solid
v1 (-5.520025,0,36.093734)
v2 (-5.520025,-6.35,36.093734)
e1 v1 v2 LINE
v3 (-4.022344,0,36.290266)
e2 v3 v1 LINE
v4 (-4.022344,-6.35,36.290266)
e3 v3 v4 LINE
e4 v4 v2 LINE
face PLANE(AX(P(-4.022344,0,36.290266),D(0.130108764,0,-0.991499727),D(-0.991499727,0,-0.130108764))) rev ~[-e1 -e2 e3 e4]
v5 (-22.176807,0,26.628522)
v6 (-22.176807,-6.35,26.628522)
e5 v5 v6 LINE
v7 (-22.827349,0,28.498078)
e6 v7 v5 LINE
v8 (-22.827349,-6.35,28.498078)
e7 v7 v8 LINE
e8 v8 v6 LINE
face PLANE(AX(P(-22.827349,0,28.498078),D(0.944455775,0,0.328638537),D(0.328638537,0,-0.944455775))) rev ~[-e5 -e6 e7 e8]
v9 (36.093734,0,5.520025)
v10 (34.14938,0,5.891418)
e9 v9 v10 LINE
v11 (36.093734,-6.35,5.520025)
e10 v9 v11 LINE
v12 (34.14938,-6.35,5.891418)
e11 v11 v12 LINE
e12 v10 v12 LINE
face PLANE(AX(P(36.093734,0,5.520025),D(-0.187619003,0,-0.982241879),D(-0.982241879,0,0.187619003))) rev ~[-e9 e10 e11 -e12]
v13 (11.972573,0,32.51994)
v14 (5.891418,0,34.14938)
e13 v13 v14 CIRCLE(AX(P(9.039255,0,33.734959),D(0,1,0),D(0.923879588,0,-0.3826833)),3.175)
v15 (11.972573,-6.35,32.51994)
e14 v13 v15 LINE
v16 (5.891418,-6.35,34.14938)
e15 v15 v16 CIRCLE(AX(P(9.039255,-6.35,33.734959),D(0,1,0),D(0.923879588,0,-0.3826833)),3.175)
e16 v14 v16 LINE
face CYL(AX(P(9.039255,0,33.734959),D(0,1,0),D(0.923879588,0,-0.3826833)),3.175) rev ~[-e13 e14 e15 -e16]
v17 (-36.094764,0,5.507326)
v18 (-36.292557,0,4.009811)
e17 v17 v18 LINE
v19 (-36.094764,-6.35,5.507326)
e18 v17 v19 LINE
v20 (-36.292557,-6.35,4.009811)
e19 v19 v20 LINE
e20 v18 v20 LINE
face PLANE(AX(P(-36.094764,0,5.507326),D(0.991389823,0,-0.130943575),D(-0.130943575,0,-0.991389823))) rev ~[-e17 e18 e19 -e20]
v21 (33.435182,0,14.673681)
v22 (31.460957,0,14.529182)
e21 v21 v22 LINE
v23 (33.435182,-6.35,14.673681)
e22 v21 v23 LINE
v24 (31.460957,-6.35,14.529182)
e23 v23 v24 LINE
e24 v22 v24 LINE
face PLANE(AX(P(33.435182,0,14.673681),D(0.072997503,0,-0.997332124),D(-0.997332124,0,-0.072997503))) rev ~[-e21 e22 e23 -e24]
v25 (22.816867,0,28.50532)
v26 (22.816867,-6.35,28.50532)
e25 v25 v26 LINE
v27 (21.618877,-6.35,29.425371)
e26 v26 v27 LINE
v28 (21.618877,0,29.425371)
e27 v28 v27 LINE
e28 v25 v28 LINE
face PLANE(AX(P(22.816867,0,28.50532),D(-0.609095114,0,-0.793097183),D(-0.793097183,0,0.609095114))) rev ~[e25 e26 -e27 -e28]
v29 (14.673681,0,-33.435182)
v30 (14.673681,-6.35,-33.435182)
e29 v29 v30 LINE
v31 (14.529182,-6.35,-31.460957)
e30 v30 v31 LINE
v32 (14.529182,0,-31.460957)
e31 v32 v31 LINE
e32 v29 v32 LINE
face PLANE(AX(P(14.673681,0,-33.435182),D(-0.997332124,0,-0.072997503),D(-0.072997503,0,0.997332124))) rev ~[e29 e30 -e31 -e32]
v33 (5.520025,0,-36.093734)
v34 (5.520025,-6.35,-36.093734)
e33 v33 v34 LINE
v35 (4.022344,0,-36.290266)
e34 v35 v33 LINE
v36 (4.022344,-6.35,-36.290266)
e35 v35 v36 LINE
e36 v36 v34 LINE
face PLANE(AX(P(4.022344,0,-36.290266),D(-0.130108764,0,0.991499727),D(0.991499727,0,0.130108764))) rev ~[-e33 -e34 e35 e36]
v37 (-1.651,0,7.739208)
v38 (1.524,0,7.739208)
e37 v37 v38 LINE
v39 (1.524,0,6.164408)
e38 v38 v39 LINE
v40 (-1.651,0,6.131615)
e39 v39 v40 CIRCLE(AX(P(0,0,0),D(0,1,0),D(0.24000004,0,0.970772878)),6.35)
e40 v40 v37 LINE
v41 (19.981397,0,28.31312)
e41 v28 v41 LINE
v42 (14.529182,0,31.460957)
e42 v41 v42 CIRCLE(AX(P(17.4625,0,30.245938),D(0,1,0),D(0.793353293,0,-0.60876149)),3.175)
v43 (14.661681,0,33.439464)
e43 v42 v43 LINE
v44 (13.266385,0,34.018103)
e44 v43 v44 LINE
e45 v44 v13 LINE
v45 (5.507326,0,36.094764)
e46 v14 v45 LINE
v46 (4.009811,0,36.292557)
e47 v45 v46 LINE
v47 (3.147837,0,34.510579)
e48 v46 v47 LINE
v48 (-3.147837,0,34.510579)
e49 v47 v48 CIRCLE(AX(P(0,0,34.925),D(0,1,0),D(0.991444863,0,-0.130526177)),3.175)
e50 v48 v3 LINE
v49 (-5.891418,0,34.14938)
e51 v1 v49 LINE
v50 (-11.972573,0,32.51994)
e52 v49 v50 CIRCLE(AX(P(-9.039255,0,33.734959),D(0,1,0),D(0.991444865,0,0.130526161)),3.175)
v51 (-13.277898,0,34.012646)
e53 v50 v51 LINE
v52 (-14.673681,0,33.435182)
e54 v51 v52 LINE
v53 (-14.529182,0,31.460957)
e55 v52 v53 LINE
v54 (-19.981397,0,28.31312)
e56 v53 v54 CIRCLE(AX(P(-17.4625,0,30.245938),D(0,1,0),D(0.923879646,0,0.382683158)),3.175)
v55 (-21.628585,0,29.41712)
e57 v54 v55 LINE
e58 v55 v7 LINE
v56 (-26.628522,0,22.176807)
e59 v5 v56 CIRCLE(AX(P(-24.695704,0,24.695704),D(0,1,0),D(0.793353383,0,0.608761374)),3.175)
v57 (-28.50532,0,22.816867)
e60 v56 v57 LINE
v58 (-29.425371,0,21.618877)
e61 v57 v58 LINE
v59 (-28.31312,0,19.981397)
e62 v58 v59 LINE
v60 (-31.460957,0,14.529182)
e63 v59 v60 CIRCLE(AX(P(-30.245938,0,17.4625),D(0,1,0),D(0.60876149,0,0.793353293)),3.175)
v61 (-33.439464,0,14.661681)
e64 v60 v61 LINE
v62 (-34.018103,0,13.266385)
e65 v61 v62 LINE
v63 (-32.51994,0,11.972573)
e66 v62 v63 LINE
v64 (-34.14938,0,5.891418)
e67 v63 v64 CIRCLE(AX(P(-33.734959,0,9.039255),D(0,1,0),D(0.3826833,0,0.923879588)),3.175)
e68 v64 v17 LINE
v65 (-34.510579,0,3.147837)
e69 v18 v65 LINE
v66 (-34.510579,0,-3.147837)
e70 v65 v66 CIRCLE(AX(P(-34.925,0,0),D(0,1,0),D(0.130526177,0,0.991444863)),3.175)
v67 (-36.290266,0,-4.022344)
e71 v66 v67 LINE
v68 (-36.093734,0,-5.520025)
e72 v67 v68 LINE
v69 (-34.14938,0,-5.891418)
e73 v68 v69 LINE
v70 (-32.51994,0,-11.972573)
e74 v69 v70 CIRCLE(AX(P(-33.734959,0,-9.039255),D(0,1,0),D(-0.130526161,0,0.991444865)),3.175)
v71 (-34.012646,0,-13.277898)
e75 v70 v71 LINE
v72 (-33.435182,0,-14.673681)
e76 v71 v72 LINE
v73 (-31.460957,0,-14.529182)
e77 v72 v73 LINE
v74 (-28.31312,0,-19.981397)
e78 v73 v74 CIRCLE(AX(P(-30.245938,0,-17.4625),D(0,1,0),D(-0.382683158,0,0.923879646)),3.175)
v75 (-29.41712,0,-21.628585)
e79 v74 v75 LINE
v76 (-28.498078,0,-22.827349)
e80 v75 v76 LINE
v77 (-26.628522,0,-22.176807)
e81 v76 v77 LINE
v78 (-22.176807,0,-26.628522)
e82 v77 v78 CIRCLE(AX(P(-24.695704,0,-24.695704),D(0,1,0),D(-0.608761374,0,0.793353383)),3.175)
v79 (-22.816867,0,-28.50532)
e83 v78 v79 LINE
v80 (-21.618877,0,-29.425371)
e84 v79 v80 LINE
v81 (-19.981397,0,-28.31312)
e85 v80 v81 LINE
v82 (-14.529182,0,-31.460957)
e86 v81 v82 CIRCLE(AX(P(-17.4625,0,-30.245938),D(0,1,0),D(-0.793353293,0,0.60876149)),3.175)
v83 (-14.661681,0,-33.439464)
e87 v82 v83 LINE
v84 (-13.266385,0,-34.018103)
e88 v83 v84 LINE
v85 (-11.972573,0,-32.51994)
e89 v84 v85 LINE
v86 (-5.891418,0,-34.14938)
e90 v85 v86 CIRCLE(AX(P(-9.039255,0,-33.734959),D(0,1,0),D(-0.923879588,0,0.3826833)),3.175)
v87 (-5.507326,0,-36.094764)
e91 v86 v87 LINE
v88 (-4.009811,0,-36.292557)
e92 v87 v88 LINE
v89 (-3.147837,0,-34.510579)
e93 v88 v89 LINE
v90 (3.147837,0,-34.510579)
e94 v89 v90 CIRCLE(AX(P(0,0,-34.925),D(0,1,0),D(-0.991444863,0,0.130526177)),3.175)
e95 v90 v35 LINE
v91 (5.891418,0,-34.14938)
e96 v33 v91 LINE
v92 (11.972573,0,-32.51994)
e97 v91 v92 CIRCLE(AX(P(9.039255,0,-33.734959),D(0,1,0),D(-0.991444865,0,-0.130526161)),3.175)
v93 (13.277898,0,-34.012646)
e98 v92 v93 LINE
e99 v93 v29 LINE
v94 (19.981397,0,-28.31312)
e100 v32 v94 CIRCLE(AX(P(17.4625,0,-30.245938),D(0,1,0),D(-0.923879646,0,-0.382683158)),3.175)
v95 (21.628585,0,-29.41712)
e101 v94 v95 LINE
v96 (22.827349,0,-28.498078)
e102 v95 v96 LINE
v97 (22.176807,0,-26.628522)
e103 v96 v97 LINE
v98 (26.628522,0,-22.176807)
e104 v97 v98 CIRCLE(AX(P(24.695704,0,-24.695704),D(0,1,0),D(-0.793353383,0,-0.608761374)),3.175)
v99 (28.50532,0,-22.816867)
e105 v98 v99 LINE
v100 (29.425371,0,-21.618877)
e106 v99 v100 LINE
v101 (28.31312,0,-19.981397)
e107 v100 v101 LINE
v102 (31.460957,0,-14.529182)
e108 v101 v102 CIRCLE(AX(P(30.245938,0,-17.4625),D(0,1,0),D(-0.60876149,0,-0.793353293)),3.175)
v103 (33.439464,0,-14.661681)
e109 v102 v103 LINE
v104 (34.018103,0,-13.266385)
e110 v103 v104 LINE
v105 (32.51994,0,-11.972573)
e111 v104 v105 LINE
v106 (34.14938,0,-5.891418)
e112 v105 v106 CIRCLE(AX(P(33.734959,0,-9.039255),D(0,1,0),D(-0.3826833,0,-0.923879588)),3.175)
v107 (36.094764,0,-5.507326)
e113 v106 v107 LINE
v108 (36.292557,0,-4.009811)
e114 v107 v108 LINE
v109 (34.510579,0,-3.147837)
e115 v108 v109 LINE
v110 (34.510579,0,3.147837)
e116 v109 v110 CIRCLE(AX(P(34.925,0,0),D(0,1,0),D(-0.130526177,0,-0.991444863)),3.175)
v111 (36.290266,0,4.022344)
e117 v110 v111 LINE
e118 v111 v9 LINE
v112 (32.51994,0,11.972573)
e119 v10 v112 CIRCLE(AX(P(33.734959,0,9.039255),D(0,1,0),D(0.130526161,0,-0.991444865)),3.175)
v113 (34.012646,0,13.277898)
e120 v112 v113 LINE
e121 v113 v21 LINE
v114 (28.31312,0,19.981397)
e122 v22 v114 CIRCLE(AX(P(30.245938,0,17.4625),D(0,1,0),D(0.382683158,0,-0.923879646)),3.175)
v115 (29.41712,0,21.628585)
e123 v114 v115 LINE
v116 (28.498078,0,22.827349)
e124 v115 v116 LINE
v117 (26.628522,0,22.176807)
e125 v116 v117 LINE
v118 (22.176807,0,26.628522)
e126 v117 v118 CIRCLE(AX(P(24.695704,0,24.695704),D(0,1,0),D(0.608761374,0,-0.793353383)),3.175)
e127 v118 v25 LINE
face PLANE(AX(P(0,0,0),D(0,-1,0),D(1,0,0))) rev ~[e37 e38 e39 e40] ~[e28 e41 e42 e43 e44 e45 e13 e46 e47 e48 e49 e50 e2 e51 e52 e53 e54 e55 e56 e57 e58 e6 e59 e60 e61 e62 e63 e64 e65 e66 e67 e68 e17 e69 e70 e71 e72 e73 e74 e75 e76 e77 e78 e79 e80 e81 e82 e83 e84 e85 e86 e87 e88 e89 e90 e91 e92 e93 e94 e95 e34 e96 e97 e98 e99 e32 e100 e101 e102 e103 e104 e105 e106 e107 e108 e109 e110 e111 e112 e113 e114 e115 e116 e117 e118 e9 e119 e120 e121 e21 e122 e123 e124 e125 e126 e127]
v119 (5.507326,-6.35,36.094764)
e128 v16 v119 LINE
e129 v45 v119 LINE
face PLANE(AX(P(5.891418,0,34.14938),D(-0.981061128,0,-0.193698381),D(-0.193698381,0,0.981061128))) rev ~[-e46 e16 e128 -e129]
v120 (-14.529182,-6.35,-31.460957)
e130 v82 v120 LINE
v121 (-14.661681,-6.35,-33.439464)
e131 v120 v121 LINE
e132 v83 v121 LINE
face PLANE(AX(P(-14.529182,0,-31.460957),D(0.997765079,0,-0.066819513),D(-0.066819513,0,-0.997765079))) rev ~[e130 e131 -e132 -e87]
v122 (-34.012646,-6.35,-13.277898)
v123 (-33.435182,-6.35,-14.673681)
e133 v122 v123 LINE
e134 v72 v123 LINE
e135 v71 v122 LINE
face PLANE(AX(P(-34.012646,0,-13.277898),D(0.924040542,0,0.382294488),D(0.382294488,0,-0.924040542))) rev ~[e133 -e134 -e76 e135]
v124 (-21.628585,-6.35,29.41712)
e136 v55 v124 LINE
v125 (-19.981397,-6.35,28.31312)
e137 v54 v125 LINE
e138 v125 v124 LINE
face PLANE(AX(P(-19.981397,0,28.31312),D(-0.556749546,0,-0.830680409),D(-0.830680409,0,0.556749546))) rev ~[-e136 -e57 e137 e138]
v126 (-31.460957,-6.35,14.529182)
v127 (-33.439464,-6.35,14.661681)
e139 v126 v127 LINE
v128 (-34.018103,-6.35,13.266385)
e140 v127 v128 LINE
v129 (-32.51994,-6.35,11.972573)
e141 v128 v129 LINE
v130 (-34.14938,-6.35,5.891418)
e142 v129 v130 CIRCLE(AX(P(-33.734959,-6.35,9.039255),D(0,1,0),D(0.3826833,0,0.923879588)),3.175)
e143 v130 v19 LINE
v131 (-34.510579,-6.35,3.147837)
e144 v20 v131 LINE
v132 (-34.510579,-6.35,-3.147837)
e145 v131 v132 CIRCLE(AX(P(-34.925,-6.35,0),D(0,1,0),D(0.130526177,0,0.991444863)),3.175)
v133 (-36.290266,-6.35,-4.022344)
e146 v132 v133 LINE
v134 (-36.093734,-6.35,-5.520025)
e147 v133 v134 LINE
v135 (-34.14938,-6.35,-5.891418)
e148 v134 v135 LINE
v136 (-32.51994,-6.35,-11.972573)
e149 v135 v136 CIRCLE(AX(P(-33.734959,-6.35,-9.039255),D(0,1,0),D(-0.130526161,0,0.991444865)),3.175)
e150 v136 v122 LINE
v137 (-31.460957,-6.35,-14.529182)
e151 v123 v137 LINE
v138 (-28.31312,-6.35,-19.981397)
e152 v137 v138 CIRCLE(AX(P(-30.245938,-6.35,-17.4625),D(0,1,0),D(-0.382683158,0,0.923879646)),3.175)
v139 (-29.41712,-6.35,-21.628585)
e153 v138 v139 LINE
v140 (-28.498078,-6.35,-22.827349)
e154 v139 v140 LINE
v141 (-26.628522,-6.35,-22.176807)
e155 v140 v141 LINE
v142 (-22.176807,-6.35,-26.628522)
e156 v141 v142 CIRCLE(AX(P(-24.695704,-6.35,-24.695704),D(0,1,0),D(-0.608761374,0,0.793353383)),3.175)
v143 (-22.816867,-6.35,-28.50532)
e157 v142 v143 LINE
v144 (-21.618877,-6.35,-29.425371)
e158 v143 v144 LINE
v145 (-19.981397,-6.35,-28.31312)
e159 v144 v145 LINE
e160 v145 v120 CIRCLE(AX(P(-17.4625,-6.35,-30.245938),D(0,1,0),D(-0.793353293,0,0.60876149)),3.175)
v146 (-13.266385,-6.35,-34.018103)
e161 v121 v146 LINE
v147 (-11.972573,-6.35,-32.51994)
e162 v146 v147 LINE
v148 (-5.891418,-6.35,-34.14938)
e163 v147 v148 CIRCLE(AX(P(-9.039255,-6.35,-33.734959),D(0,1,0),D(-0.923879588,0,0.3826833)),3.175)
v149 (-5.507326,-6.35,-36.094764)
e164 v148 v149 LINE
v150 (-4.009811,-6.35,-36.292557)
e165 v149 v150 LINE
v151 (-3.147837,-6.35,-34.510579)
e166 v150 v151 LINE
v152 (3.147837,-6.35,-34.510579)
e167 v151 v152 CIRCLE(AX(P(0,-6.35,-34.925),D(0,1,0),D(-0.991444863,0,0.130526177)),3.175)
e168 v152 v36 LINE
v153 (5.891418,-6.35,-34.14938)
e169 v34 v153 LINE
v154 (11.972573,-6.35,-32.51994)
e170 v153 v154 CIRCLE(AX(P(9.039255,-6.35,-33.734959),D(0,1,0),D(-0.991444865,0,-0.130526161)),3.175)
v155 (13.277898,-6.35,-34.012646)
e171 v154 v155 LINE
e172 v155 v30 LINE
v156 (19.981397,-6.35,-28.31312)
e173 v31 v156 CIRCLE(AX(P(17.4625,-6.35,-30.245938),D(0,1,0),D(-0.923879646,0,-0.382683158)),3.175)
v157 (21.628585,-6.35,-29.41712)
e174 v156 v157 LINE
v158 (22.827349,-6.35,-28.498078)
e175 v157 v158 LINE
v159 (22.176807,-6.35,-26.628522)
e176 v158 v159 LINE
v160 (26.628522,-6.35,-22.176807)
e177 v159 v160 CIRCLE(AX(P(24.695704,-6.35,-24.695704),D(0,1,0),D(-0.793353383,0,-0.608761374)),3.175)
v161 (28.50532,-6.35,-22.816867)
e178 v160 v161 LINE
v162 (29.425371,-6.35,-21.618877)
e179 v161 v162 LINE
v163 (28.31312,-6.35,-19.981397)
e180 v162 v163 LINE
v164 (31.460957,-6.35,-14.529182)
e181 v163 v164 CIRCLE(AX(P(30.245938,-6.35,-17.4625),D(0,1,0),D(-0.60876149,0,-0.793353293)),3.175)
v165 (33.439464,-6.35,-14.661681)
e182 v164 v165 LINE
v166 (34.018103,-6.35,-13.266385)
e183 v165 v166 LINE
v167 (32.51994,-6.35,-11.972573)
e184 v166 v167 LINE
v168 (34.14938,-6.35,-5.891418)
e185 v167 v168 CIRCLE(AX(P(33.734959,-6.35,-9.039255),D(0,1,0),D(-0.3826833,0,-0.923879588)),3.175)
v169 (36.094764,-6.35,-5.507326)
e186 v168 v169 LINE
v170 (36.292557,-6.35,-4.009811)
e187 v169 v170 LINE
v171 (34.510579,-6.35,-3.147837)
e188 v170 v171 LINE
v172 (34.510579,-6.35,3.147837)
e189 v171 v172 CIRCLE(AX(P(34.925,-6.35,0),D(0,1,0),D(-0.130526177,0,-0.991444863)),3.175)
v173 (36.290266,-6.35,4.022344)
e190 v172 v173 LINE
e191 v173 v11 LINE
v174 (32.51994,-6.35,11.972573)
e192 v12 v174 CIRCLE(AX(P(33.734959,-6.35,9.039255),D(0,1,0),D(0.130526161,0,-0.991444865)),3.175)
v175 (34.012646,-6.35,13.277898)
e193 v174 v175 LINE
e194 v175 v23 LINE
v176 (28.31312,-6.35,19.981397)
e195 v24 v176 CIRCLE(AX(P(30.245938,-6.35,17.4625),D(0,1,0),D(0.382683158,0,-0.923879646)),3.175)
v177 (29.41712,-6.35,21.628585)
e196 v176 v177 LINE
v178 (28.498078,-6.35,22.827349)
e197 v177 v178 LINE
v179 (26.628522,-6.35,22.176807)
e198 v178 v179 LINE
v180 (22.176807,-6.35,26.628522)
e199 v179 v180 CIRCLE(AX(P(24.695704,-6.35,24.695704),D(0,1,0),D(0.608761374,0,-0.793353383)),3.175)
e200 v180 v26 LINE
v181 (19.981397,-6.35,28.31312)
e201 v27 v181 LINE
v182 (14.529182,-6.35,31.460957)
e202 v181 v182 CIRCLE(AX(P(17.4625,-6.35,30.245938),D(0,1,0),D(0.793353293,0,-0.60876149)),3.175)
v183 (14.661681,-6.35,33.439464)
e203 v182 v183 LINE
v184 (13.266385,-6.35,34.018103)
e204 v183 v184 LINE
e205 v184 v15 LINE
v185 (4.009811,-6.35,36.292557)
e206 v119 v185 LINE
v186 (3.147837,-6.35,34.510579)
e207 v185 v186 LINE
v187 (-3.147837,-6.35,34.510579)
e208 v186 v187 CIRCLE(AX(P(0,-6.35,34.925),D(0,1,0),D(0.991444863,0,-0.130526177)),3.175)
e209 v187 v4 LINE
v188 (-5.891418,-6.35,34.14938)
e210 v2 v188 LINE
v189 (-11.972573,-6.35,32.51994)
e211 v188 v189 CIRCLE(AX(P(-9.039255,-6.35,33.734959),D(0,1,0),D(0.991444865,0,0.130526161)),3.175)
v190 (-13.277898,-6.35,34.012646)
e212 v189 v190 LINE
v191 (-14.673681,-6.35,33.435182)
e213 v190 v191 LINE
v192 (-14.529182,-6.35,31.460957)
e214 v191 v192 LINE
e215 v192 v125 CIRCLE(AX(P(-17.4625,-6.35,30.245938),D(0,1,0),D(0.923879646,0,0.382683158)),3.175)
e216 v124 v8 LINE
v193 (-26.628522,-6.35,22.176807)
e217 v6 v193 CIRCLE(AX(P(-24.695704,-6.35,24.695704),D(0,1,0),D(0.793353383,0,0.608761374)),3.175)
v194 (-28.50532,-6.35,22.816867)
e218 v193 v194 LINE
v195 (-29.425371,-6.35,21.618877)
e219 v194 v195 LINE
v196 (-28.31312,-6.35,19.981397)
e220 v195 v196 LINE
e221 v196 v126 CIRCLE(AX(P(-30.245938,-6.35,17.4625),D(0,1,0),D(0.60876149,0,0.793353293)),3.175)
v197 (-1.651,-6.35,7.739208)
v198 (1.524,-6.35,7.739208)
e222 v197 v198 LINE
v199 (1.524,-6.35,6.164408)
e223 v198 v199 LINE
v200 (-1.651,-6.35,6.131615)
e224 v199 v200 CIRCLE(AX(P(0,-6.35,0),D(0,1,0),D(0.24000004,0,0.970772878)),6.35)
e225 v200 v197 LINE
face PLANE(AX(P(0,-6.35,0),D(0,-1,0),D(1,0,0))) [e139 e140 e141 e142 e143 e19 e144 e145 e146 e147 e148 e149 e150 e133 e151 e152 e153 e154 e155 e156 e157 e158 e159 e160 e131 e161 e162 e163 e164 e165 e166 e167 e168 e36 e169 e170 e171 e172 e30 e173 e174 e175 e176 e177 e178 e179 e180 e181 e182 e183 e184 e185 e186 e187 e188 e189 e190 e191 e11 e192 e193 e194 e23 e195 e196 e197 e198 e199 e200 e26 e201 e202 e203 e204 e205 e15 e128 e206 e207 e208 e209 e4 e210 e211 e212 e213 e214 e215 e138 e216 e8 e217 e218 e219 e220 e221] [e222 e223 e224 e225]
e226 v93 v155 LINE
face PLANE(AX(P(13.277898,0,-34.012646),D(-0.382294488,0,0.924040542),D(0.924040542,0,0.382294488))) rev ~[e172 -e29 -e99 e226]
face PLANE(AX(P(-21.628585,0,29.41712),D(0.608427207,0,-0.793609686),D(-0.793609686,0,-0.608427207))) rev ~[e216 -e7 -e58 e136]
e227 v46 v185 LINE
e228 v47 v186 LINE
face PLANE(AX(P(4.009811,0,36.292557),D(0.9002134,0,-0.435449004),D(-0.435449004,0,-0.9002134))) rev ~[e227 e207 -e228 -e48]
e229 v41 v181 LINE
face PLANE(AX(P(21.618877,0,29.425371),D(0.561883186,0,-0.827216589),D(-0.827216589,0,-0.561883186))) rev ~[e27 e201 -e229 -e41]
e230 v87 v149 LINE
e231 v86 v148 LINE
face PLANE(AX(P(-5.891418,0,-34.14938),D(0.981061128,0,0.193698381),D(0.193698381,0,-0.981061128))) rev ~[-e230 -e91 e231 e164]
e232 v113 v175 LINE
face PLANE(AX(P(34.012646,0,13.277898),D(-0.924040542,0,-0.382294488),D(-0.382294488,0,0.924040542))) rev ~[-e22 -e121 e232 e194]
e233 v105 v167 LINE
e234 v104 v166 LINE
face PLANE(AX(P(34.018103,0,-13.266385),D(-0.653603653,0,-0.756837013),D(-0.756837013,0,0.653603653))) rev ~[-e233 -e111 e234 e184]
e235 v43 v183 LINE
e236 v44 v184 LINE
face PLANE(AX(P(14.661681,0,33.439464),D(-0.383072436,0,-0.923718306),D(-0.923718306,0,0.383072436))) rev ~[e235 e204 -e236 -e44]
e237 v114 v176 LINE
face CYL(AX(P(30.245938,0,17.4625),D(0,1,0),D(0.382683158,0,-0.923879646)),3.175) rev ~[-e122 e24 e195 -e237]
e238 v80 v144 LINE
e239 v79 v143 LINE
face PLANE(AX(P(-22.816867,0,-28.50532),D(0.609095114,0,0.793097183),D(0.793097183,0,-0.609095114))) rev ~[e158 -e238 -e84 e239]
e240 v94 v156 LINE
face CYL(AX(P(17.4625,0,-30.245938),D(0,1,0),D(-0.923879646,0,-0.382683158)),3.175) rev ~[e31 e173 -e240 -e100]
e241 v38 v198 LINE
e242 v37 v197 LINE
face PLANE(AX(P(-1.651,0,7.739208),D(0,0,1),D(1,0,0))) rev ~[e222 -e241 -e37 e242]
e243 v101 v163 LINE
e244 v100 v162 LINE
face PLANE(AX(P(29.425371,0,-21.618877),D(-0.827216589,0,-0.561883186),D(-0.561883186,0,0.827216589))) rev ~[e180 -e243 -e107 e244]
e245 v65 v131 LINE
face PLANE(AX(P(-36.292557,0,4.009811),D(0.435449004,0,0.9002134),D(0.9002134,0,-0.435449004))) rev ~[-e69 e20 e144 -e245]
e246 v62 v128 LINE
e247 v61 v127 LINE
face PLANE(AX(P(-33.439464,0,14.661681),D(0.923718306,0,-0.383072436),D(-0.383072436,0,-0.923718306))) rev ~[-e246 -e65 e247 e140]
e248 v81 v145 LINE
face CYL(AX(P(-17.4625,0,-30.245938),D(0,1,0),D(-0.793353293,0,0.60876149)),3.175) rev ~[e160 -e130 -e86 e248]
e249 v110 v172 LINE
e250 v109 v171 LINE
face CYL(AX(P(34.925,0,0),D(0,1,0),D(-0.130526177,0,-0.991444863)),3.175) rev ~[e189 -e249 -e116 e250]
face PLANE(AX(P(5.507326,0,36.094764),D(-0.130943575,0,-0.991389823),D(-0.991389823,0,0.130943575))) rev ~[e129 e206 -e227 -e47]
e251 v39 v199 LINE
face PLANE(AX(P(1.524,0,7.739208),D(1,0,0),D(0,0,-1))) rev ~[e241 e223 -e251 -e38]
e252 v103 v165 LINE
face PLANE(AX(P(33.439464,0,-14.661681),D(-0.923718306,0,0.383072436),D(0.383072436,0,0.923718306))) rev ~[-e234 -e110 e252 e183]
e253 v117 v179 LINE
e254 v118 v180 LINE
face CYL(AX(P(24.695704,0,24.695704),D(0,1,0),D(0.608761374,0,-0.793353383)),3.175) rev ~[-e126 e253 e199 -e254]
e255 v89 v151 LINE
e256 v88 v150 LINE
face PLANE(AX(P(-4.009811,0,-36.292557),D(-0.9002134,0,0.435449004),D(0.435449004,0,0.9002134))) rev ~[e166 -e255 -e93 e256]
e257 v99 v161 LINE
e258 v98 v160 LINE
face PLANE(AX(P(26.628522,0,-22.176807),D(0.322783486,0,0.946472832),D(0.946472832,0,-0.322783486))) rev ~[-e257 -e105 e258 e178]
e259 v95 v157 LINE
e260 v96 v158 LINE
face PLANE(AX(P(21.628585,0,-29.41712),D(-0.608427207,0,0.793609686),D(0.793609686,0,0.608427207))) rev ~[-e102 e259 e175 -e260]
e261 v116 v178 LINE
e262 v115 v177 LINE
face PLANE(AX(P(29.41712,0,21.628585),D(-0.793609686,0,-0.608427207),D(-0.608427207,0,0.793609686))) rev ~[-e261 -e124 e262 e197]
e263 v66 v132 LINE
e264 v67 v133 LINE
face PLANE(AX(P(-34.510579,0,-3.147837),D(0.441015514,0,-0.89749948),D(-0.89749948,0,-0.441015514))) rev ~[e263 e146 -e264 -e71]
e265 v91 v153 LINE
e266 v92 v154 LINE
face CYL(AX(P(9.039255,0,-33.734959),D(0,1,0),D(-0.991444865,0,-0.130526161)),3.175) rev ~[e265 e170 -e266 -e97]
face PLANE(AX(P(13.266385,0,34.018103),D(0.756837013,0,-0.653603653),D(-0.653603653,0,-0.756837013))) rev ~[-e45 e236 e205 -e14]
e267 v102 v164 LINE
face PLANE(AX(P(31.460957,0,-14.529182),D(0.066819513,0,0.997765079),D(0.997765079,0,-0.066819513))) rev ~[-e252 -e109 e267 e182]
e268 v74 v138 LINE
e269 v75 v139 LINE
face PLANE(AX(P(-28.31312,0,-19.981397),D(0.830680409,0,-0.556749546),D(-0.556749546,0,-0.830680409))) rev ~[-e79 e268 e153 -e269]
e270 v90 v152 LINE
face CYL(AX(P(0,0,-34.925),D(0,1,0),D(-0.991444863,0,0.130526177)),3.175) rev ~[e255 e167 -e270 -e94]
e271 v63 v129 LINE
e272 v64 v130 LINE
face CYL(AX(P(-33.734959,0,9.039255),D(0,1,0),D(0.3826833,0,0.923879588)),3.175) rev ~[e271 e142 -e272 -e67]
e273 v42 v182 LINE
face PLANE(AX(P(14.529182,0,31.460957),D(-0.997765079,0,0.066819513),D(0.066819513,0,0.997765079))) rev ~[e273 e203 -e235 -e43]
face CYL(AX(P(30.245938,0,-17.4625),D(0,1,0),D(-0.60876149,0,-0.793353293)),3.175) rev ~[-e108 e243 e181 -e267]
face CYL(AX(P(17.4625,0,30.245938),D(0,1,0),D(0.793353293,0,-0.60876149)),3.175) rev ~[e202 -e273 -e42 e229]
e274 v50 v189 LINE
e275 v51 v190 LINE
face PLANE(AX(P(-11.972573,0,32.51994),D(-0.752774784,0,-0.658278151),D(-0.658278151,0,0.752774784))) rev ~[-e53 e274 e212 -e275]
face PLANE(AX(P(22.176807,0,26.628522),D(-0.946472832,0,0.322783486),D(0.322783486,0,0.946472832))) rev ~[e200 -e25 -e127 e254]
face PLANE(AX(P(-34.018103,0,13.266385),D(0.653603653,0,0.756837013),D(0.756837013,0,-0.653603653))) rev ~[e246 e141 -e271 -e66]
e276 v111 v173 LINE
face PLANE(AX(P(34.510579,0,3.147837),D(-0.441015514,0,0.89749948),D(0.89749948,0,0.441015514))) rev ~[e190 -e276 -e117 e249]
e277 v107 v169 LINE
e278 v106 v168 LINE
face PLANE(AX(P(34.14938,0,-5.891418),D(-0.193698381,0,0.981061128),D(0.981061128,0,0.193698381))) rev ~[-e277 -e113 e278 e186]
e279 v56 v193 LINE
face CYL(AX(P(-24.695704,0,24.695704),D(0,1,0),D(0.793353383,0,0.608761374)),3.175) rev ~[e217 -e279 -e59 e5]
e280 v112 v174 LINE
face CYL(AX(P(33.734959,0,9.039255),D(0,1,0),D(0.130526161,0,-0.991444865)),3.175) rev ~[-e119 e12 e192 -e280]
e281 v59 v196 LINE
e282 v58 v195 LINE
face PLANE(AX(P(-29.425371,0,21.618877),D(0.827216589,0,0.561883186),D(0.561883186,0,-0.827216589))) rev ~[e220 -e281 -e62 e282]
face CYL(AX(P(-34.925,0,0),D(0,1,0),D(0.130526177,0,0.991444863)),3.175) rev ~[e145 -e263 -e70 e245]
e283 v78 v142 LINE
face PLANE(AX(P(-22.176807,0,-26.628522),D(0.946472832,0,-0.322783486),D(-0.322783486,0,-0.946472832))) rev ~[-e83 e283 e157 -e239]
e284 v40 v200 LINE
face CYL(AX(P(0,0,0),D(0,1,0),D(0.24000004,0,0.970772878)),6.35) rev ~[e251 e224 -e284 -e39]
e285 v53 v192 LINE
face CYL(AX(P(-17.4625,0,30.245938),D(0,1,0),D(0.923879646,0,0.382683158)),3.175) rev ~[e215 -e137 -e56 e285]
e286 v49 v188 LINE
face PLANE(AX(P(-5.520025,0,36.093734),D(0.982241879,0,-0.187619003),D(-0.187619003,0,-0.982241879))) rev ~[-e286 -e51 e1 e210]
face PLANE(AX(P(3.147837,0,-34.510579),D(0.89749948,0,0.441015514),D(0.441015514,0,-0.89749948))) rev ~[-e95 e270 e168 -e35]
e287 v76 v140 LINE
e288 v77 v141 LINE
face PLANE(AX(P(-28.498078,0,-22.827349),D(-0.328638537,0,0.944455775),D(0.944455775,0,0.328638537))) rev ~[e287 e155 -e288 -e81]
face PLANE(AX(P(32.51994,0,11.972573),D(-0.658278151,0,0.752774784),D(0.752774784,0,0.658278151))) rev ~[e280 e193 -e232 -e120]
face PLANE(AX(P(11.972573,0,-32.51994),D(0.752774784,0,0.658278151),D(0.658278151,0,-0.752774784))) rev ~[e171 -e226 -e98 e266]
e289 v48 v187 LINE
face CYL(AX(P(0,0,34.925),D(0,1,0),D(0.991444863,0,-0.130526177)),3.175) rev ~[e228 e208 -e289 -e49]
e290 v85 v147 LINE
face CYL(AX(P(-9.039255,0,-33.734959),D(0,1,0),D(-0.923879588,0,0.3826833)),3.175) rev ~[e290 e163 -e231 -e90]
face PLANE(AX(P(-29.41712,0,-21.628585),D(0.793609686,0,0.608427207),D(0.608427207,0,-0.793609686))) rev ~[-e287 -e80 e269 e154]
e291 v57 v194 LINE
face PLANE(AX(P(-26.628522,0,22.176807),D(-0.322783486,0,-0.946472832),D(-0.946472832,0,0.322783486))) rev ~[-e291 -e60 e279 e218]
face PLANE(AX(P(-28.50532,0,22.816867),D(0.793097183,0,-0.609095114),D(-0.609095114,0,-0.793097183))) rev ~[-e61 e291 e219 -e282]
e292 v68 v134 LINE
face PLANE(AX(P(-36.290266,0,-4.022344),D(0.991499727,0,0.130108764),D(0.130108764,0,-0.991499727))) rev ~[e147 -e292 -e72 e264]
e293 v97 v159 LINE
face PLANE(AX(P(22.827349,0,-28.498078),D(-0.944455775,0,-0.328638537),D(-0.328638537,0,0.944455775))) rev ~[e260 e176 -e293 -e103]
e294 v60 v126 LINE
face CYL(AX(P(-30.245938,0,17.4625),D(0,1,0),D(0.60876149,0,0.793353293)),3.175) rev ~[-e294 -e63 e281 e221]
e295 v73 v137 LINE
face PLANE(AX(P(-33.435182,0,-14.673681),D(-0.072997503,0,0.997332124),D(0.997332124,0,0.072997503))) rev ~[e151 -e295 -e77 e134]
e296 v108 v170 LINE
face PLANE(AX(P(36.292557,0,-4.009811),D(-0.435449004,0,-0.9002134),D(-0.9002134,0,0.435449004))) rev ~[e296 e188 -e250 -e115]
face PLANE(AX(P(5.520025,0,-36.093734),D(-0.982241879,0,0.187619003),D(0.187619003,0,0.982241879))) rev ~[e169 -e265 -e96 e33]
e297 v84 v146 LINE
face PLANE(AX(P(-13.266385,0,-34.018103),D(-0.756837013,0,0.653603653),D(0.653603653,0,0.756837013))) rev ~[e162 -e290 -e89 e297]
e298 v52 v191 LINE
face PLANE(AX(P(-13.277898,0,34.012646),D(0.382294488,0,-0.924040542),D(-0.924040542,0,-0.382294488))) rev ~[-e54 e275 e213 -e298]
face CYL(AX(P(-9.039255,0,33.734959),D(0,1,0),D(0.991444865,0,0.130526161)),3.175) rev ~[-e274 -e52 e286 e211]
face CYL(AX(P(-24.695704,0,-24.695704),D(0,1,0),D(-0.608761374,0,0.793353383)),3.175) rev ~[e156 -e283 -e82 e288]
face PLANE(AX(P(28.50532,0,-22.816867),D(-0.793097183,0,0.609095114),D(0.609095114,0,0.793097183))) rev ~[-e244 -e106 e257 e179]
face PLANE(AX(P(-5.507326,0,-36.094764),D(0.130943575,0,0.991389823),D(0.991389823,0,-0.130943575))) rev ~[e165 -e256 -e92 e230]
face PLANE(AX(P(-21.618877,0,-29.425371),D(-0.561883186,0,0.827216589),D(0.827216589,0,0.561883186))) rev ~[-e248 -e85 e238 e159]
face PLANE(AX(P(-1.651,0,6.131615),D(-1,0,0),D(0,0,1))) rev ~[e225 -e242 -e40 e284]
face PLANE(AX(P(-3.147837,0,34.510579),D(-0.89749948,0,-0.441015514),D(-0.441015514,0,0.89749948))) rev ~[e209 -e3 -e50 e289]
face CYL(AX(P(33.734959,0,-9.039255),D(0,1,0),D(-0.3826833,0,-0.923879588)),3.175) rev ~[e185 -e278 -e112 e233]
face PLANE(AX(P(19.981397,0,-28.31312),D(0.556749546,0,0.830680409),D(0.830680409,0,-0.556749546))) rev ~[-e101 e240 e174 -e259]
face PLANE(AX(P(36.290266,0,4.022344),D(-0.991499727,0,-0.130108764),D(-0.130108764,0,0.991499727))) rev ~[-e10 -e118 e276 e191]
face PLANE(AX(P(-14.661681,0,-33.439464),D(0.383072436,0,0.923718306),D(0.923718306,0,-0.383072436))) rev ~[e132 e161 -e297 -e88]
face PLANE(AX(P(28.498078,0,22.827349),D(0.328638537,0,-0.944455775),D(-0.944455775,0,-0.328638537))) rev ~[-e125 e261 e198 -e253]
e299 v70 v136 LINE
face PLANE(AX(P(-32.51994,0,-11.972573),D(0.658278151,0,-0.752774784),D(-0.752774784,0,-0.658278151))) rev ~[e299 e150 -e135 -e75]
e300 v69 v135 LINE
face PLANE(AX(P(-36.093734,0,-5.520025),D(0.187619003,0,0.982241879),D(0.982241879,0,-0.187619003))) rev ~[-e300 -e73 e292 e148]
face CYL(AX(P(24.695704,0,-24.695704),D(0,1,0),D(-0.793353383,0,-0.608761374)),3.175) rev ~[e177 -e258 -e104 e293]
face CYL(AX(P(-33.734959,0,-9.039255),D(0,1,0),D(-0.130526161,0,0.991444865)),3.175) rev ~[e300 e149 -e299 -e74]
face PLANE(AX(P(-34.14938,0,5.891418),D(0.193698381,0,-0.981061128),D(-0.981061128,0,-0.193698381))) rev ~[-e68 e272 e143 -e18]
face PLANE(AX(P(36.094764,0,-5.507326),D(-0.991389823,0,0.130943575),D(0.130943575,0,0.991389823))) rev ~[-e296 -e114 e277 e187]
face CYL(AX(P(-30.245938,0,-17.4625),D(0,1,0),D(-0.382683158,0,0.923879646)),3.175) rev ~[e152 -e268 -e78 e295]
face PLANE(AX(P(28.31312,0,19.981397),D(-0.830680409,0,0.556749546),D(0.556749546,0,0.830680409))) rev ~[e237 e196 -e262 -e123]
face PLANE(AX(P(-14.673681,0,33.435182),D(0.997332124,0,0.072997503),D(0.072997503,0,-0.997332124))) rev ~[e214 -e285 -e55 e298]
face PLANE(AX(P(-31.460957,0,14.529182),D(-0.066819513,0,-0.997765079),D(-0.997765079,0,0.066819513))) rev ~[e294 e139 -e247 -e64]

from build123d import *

# Parameters (mm, degrees)
F1_DEPTH = 6.35


with BuildPart() as f1:
    # F0 (on Front) → F1 (new body)
    with BuildSketch(Plane.XZ):
        with BuildLine():
            ThreePointArc((3.147837, 34.510579), (0, 31.75), (-3.147837, 34.510579))
            Line((-3.147837, 34.510579), (-4.022344, 36.290266))
            Line((-4.022344, 36.290266), (-5.520025, 36.093734))
            Line((-5.520025, 36.093734), (-5.891418, 34.14938))
            ThreePointArc((-5.891418, 34.14938), (-8.217505, 30.668145), (-11.972573, 32.51994))
            Line((-11.972573, 32.51994), (-13.277898, 34.012646))
            Line((-13.277898, 34.012646), (-14.673681, 33.435182))
            Line((-14.673681, 33.435182), (-14.529182, 31.460957))
            ThreePointArc((-14.529182, 31.460957), (-15.875, 27.496307), (-19.981397, 28.31312))
            Line((-19.981397, 28.31312), (-21.628585, 29.41712))
            Line((-21.628585, 29.41712), (-22.827349, 28.498078))
            Line((-22.827349, 28.498078), (-22.176807, 26.628522))
            ThreePointArc((-22.176807, 26.628522), (-22.45064, 22.45064), (-26.628522, 22.176807))
            Line((-26.628522, 22.176807), (-28.50532, 22.816867))
            Line((-28.50532, 22.816867), (-29.425371, 21.618877))
            Line((-29.425371, 21.618877), (-28.31312, 19.981397))
            ThreePointArc((-28.31312, 19.981397), (-27.496307, 15.875), (-31.460957, 14.529182))
            Line((-31.460957, 14.529182), (-33.439464, 14.661681))
            Line((-33.439464, 14.661681), (-34.018103, 13.266385))
            Line((-34.018103, 13.266385), (-32.51994, 11.972573))
            ThreePointArc((-32.51994, 11.972573), (-30.668145, 8.217505), (-34.14938, 5.891418))
            Line((-34.14938, 5.891418), (-36.094764, 5.507326))
            Line((-36.094764, 5.507326), (-36.292557, 4.009811))
            Line((-36.292557, 4.009811), (-34.510579, 3.147837))
            ThreePointArc((-34.510579, 3.147837), (-31.75, 0), (-34.510579, -3.147837))
            Line((-34.510579, -3.147837), (-36.290266, -4.022344))
            Line((-36.290266, -4.022344), (-36.093734, -5.520025))
            Line((-36.093734, -5.520025), (-34.14938, -5.891418))
            ThreePointArc((-34.14938, -5.891418), (-30.668145, -8.217505), (-32.51994, -11.972573))
            Line((-32.51994, -11.972573), (-34.012646, -13.277898))
            Line((-34.012646, -13.277898), (-33.435182, -14.673681))
            Line((-33.435182, -14.673681), (-31.460957, -14.529182))
            ThreePointArc((-31.460957, -14.529182), (-27.496307, -15.875), (-28.31312, -19.981397))
            Line((-28.31312, -19.981397), (-29.41712, -21.628585))
            Line((-29.41712, -21.628585), (-28.498078, -22.827349))
            Line((-28.498078, -22.827349), (-26.628522, -22.176807))
            ThreePointArc((-26.628522, -22.176807), (-22.45064, -22.45064), (-22.176807, -26.628522))
            Line((-22.176807, -26.628522), (-22.816867, -28.50532))
            Line((-22.816867, -28.50532), (-21.618877, -29.425371))
            Line((-21.618877, -29.425371), (-19.981397, -28.31312))
            ThreePointArc((-19.981397, -28.31312), (-15.875, -27.496307), (-14.529182, -31.460957))
            Line((-14.529182, -31.460957), (-14.661681, -33.439464))
            Line((-14.661681, -33.439464), (-13.266385, -34.018103))
            Line((-13.266385, -34.018103), (-11.972573, -32.51994))
            ThreePointArc((-11.972573, -32.51994), (-8.217505, -30.668145), (-5.891418, -34.14938))
            Line((-5.891418, -34.14938), (-5.507326, -36.094764))
            Line((-5.507326, -36.094764), (-4.009811, -36.292557))
            Line((-4.009811, -36.292557), (-3.147837, -34.510579))
            ThreePointArc((-3.147837, -34.510579), (0, -31.75), (3.147837, -34.510579))
            Line((3.147837, -34.510579), (4.022344, -36.290266))
            Line((4.022344, -36.290266), (5.520025, -36.093734))
            Line((5.520025, -36.093734), (5.891418, -34.14938))
            ThreePointArc((5.891418, -34.14938), (8.217505, -30.668145), (11.972573, -32.51994))
            Line((11.972573, -32.51994), (13.277898, -34.012646))
            Line((13.277898, -34.012646), (14.673681, -33.435182))
            Line((14.673681, -33.435182), (14.529182, -31.460957))
            ThreePointArc((14.529182, -31.460957), (15.875, -27.496307), (19.981397, -28.31312))
            Line((19.981397, -28.31312), (21.628585, -29.41712))
            Line((21.628585, -29.41712), (22.827349, -28.498078))
            Line((22.827349, -28.498078), (22.176807, -26.628522))
            ThreePointArc((22.176807, -26.628522), (22.45064, -22.45064), (26.628522, -22.176807))
            Line((26.628522, -22.176807), (28.50532, -22.816867))
            Line((28.50532, -22.816867), (29.425371, -21.618877))
            Line((29.425371, -21.618877), (28.31312, -19.981397))
            ThreePointArc((28.31312, -19.981397), (27.496307, -15.875), (31.460957, -14.529182))
            Line((31.460957, -14.529182), (33.439464, -14.661681))
            Line((33.439464, -14.661681), (34.018103, -13.266385))
            Line((34.018103, -13.266385), (32.51994, -11.972573))
            ThreePointArc((32.51994, -11.972573), (30.668145, -8.217505), (34.14938, -5.891418))
            Line((34.14938, -5.891418), (36.094764, -5.507326))
            Line((36.094764, -5.507326), (36.292557, -4.009811))
            Line((36.292557, -4.009811), (34.510579, -3.147837))
            ThreePointArc((34.510579, -3.147837), (31.75, 0), (34.510579, 3.147837))
            Line((34.510579, 3.147837), (36.290266, 4.022344))
            Line((36.290266, 4.022344), (36.093734, 5.520025))
            Line((36.093734, 5.520025), (34.14938, 5.891418))
            ThreePointArc((34.14938, 5.891418), (30.668145, 8.217505), (32.51994, 11.972573))
            Line((32.51994, 11.972573), (34.012646, 13.277898))
            Line((34.012646, 13.277898), (33.435182, 14.673681))
            Line((33.435182, 14.673681), (31.460957, 14.529182))
            ThreePointArc((31.460957, 14.529182), (27.496307, 15.875), (28.31312, 19.981397))
            Line((28.31312, 19.981397), (29.41712, 21.628585))
            Line((29.41712, 21.628585), (28.498078, 22.827349))
            Line((28.498078, 22.827349), (26.628522, 22.176807))
            ThreePointArc((26.628522, 22.176807), (22.45064, 22.45064), (22.176807, 26.628522))
            Line((22.176807, 26.628522), (22.816867, 28.50532))
            Line((22.816867, 28.50532), (21.618877, 29.425371))
            Line((21.618877, 29.425371), (19.981397, 28.31312))
            ThreePointArc((19.981397, 28.31312), (15.875, 27.496307), (14.529182, 31.460957))
            Line((14.529182, 31.460957), (14.661681, 33.439464))
            Line((14.661681, 33.439464), (13.266385, 34.018103))
            Line((13.266385, 34.018103), (11.972573, 32.51994))
            ThreePointArc((11.972573, 32.51994), (8.217505, 30.668145), (5.891418, 34.14938))
            Line((5.891418, 34.14938), (5.507326, 36.094764))
            Line((5.507326, 36.094764), (4.009811, 36.292557))
            Line((4.009811, 36.292557), (3.147837, 34.510579))
        make_face()
        with BuildLine():
            ThreePointArc((1.524, 6.164408), (0.065583, -6.349661), (-1.651, 6.131615))
            Line((-1.651, 6.131615), (-1.651, 7.739208))
            Line((-1.651, 7.739208), (1.524, 7.739208))
            Line((1.524, 7.739208), (1.524, 6.164408))
        make_face(mode=Mode.SUBTRACT)
    extrude(amount=F1_DEPTH)


solid = f1.part
